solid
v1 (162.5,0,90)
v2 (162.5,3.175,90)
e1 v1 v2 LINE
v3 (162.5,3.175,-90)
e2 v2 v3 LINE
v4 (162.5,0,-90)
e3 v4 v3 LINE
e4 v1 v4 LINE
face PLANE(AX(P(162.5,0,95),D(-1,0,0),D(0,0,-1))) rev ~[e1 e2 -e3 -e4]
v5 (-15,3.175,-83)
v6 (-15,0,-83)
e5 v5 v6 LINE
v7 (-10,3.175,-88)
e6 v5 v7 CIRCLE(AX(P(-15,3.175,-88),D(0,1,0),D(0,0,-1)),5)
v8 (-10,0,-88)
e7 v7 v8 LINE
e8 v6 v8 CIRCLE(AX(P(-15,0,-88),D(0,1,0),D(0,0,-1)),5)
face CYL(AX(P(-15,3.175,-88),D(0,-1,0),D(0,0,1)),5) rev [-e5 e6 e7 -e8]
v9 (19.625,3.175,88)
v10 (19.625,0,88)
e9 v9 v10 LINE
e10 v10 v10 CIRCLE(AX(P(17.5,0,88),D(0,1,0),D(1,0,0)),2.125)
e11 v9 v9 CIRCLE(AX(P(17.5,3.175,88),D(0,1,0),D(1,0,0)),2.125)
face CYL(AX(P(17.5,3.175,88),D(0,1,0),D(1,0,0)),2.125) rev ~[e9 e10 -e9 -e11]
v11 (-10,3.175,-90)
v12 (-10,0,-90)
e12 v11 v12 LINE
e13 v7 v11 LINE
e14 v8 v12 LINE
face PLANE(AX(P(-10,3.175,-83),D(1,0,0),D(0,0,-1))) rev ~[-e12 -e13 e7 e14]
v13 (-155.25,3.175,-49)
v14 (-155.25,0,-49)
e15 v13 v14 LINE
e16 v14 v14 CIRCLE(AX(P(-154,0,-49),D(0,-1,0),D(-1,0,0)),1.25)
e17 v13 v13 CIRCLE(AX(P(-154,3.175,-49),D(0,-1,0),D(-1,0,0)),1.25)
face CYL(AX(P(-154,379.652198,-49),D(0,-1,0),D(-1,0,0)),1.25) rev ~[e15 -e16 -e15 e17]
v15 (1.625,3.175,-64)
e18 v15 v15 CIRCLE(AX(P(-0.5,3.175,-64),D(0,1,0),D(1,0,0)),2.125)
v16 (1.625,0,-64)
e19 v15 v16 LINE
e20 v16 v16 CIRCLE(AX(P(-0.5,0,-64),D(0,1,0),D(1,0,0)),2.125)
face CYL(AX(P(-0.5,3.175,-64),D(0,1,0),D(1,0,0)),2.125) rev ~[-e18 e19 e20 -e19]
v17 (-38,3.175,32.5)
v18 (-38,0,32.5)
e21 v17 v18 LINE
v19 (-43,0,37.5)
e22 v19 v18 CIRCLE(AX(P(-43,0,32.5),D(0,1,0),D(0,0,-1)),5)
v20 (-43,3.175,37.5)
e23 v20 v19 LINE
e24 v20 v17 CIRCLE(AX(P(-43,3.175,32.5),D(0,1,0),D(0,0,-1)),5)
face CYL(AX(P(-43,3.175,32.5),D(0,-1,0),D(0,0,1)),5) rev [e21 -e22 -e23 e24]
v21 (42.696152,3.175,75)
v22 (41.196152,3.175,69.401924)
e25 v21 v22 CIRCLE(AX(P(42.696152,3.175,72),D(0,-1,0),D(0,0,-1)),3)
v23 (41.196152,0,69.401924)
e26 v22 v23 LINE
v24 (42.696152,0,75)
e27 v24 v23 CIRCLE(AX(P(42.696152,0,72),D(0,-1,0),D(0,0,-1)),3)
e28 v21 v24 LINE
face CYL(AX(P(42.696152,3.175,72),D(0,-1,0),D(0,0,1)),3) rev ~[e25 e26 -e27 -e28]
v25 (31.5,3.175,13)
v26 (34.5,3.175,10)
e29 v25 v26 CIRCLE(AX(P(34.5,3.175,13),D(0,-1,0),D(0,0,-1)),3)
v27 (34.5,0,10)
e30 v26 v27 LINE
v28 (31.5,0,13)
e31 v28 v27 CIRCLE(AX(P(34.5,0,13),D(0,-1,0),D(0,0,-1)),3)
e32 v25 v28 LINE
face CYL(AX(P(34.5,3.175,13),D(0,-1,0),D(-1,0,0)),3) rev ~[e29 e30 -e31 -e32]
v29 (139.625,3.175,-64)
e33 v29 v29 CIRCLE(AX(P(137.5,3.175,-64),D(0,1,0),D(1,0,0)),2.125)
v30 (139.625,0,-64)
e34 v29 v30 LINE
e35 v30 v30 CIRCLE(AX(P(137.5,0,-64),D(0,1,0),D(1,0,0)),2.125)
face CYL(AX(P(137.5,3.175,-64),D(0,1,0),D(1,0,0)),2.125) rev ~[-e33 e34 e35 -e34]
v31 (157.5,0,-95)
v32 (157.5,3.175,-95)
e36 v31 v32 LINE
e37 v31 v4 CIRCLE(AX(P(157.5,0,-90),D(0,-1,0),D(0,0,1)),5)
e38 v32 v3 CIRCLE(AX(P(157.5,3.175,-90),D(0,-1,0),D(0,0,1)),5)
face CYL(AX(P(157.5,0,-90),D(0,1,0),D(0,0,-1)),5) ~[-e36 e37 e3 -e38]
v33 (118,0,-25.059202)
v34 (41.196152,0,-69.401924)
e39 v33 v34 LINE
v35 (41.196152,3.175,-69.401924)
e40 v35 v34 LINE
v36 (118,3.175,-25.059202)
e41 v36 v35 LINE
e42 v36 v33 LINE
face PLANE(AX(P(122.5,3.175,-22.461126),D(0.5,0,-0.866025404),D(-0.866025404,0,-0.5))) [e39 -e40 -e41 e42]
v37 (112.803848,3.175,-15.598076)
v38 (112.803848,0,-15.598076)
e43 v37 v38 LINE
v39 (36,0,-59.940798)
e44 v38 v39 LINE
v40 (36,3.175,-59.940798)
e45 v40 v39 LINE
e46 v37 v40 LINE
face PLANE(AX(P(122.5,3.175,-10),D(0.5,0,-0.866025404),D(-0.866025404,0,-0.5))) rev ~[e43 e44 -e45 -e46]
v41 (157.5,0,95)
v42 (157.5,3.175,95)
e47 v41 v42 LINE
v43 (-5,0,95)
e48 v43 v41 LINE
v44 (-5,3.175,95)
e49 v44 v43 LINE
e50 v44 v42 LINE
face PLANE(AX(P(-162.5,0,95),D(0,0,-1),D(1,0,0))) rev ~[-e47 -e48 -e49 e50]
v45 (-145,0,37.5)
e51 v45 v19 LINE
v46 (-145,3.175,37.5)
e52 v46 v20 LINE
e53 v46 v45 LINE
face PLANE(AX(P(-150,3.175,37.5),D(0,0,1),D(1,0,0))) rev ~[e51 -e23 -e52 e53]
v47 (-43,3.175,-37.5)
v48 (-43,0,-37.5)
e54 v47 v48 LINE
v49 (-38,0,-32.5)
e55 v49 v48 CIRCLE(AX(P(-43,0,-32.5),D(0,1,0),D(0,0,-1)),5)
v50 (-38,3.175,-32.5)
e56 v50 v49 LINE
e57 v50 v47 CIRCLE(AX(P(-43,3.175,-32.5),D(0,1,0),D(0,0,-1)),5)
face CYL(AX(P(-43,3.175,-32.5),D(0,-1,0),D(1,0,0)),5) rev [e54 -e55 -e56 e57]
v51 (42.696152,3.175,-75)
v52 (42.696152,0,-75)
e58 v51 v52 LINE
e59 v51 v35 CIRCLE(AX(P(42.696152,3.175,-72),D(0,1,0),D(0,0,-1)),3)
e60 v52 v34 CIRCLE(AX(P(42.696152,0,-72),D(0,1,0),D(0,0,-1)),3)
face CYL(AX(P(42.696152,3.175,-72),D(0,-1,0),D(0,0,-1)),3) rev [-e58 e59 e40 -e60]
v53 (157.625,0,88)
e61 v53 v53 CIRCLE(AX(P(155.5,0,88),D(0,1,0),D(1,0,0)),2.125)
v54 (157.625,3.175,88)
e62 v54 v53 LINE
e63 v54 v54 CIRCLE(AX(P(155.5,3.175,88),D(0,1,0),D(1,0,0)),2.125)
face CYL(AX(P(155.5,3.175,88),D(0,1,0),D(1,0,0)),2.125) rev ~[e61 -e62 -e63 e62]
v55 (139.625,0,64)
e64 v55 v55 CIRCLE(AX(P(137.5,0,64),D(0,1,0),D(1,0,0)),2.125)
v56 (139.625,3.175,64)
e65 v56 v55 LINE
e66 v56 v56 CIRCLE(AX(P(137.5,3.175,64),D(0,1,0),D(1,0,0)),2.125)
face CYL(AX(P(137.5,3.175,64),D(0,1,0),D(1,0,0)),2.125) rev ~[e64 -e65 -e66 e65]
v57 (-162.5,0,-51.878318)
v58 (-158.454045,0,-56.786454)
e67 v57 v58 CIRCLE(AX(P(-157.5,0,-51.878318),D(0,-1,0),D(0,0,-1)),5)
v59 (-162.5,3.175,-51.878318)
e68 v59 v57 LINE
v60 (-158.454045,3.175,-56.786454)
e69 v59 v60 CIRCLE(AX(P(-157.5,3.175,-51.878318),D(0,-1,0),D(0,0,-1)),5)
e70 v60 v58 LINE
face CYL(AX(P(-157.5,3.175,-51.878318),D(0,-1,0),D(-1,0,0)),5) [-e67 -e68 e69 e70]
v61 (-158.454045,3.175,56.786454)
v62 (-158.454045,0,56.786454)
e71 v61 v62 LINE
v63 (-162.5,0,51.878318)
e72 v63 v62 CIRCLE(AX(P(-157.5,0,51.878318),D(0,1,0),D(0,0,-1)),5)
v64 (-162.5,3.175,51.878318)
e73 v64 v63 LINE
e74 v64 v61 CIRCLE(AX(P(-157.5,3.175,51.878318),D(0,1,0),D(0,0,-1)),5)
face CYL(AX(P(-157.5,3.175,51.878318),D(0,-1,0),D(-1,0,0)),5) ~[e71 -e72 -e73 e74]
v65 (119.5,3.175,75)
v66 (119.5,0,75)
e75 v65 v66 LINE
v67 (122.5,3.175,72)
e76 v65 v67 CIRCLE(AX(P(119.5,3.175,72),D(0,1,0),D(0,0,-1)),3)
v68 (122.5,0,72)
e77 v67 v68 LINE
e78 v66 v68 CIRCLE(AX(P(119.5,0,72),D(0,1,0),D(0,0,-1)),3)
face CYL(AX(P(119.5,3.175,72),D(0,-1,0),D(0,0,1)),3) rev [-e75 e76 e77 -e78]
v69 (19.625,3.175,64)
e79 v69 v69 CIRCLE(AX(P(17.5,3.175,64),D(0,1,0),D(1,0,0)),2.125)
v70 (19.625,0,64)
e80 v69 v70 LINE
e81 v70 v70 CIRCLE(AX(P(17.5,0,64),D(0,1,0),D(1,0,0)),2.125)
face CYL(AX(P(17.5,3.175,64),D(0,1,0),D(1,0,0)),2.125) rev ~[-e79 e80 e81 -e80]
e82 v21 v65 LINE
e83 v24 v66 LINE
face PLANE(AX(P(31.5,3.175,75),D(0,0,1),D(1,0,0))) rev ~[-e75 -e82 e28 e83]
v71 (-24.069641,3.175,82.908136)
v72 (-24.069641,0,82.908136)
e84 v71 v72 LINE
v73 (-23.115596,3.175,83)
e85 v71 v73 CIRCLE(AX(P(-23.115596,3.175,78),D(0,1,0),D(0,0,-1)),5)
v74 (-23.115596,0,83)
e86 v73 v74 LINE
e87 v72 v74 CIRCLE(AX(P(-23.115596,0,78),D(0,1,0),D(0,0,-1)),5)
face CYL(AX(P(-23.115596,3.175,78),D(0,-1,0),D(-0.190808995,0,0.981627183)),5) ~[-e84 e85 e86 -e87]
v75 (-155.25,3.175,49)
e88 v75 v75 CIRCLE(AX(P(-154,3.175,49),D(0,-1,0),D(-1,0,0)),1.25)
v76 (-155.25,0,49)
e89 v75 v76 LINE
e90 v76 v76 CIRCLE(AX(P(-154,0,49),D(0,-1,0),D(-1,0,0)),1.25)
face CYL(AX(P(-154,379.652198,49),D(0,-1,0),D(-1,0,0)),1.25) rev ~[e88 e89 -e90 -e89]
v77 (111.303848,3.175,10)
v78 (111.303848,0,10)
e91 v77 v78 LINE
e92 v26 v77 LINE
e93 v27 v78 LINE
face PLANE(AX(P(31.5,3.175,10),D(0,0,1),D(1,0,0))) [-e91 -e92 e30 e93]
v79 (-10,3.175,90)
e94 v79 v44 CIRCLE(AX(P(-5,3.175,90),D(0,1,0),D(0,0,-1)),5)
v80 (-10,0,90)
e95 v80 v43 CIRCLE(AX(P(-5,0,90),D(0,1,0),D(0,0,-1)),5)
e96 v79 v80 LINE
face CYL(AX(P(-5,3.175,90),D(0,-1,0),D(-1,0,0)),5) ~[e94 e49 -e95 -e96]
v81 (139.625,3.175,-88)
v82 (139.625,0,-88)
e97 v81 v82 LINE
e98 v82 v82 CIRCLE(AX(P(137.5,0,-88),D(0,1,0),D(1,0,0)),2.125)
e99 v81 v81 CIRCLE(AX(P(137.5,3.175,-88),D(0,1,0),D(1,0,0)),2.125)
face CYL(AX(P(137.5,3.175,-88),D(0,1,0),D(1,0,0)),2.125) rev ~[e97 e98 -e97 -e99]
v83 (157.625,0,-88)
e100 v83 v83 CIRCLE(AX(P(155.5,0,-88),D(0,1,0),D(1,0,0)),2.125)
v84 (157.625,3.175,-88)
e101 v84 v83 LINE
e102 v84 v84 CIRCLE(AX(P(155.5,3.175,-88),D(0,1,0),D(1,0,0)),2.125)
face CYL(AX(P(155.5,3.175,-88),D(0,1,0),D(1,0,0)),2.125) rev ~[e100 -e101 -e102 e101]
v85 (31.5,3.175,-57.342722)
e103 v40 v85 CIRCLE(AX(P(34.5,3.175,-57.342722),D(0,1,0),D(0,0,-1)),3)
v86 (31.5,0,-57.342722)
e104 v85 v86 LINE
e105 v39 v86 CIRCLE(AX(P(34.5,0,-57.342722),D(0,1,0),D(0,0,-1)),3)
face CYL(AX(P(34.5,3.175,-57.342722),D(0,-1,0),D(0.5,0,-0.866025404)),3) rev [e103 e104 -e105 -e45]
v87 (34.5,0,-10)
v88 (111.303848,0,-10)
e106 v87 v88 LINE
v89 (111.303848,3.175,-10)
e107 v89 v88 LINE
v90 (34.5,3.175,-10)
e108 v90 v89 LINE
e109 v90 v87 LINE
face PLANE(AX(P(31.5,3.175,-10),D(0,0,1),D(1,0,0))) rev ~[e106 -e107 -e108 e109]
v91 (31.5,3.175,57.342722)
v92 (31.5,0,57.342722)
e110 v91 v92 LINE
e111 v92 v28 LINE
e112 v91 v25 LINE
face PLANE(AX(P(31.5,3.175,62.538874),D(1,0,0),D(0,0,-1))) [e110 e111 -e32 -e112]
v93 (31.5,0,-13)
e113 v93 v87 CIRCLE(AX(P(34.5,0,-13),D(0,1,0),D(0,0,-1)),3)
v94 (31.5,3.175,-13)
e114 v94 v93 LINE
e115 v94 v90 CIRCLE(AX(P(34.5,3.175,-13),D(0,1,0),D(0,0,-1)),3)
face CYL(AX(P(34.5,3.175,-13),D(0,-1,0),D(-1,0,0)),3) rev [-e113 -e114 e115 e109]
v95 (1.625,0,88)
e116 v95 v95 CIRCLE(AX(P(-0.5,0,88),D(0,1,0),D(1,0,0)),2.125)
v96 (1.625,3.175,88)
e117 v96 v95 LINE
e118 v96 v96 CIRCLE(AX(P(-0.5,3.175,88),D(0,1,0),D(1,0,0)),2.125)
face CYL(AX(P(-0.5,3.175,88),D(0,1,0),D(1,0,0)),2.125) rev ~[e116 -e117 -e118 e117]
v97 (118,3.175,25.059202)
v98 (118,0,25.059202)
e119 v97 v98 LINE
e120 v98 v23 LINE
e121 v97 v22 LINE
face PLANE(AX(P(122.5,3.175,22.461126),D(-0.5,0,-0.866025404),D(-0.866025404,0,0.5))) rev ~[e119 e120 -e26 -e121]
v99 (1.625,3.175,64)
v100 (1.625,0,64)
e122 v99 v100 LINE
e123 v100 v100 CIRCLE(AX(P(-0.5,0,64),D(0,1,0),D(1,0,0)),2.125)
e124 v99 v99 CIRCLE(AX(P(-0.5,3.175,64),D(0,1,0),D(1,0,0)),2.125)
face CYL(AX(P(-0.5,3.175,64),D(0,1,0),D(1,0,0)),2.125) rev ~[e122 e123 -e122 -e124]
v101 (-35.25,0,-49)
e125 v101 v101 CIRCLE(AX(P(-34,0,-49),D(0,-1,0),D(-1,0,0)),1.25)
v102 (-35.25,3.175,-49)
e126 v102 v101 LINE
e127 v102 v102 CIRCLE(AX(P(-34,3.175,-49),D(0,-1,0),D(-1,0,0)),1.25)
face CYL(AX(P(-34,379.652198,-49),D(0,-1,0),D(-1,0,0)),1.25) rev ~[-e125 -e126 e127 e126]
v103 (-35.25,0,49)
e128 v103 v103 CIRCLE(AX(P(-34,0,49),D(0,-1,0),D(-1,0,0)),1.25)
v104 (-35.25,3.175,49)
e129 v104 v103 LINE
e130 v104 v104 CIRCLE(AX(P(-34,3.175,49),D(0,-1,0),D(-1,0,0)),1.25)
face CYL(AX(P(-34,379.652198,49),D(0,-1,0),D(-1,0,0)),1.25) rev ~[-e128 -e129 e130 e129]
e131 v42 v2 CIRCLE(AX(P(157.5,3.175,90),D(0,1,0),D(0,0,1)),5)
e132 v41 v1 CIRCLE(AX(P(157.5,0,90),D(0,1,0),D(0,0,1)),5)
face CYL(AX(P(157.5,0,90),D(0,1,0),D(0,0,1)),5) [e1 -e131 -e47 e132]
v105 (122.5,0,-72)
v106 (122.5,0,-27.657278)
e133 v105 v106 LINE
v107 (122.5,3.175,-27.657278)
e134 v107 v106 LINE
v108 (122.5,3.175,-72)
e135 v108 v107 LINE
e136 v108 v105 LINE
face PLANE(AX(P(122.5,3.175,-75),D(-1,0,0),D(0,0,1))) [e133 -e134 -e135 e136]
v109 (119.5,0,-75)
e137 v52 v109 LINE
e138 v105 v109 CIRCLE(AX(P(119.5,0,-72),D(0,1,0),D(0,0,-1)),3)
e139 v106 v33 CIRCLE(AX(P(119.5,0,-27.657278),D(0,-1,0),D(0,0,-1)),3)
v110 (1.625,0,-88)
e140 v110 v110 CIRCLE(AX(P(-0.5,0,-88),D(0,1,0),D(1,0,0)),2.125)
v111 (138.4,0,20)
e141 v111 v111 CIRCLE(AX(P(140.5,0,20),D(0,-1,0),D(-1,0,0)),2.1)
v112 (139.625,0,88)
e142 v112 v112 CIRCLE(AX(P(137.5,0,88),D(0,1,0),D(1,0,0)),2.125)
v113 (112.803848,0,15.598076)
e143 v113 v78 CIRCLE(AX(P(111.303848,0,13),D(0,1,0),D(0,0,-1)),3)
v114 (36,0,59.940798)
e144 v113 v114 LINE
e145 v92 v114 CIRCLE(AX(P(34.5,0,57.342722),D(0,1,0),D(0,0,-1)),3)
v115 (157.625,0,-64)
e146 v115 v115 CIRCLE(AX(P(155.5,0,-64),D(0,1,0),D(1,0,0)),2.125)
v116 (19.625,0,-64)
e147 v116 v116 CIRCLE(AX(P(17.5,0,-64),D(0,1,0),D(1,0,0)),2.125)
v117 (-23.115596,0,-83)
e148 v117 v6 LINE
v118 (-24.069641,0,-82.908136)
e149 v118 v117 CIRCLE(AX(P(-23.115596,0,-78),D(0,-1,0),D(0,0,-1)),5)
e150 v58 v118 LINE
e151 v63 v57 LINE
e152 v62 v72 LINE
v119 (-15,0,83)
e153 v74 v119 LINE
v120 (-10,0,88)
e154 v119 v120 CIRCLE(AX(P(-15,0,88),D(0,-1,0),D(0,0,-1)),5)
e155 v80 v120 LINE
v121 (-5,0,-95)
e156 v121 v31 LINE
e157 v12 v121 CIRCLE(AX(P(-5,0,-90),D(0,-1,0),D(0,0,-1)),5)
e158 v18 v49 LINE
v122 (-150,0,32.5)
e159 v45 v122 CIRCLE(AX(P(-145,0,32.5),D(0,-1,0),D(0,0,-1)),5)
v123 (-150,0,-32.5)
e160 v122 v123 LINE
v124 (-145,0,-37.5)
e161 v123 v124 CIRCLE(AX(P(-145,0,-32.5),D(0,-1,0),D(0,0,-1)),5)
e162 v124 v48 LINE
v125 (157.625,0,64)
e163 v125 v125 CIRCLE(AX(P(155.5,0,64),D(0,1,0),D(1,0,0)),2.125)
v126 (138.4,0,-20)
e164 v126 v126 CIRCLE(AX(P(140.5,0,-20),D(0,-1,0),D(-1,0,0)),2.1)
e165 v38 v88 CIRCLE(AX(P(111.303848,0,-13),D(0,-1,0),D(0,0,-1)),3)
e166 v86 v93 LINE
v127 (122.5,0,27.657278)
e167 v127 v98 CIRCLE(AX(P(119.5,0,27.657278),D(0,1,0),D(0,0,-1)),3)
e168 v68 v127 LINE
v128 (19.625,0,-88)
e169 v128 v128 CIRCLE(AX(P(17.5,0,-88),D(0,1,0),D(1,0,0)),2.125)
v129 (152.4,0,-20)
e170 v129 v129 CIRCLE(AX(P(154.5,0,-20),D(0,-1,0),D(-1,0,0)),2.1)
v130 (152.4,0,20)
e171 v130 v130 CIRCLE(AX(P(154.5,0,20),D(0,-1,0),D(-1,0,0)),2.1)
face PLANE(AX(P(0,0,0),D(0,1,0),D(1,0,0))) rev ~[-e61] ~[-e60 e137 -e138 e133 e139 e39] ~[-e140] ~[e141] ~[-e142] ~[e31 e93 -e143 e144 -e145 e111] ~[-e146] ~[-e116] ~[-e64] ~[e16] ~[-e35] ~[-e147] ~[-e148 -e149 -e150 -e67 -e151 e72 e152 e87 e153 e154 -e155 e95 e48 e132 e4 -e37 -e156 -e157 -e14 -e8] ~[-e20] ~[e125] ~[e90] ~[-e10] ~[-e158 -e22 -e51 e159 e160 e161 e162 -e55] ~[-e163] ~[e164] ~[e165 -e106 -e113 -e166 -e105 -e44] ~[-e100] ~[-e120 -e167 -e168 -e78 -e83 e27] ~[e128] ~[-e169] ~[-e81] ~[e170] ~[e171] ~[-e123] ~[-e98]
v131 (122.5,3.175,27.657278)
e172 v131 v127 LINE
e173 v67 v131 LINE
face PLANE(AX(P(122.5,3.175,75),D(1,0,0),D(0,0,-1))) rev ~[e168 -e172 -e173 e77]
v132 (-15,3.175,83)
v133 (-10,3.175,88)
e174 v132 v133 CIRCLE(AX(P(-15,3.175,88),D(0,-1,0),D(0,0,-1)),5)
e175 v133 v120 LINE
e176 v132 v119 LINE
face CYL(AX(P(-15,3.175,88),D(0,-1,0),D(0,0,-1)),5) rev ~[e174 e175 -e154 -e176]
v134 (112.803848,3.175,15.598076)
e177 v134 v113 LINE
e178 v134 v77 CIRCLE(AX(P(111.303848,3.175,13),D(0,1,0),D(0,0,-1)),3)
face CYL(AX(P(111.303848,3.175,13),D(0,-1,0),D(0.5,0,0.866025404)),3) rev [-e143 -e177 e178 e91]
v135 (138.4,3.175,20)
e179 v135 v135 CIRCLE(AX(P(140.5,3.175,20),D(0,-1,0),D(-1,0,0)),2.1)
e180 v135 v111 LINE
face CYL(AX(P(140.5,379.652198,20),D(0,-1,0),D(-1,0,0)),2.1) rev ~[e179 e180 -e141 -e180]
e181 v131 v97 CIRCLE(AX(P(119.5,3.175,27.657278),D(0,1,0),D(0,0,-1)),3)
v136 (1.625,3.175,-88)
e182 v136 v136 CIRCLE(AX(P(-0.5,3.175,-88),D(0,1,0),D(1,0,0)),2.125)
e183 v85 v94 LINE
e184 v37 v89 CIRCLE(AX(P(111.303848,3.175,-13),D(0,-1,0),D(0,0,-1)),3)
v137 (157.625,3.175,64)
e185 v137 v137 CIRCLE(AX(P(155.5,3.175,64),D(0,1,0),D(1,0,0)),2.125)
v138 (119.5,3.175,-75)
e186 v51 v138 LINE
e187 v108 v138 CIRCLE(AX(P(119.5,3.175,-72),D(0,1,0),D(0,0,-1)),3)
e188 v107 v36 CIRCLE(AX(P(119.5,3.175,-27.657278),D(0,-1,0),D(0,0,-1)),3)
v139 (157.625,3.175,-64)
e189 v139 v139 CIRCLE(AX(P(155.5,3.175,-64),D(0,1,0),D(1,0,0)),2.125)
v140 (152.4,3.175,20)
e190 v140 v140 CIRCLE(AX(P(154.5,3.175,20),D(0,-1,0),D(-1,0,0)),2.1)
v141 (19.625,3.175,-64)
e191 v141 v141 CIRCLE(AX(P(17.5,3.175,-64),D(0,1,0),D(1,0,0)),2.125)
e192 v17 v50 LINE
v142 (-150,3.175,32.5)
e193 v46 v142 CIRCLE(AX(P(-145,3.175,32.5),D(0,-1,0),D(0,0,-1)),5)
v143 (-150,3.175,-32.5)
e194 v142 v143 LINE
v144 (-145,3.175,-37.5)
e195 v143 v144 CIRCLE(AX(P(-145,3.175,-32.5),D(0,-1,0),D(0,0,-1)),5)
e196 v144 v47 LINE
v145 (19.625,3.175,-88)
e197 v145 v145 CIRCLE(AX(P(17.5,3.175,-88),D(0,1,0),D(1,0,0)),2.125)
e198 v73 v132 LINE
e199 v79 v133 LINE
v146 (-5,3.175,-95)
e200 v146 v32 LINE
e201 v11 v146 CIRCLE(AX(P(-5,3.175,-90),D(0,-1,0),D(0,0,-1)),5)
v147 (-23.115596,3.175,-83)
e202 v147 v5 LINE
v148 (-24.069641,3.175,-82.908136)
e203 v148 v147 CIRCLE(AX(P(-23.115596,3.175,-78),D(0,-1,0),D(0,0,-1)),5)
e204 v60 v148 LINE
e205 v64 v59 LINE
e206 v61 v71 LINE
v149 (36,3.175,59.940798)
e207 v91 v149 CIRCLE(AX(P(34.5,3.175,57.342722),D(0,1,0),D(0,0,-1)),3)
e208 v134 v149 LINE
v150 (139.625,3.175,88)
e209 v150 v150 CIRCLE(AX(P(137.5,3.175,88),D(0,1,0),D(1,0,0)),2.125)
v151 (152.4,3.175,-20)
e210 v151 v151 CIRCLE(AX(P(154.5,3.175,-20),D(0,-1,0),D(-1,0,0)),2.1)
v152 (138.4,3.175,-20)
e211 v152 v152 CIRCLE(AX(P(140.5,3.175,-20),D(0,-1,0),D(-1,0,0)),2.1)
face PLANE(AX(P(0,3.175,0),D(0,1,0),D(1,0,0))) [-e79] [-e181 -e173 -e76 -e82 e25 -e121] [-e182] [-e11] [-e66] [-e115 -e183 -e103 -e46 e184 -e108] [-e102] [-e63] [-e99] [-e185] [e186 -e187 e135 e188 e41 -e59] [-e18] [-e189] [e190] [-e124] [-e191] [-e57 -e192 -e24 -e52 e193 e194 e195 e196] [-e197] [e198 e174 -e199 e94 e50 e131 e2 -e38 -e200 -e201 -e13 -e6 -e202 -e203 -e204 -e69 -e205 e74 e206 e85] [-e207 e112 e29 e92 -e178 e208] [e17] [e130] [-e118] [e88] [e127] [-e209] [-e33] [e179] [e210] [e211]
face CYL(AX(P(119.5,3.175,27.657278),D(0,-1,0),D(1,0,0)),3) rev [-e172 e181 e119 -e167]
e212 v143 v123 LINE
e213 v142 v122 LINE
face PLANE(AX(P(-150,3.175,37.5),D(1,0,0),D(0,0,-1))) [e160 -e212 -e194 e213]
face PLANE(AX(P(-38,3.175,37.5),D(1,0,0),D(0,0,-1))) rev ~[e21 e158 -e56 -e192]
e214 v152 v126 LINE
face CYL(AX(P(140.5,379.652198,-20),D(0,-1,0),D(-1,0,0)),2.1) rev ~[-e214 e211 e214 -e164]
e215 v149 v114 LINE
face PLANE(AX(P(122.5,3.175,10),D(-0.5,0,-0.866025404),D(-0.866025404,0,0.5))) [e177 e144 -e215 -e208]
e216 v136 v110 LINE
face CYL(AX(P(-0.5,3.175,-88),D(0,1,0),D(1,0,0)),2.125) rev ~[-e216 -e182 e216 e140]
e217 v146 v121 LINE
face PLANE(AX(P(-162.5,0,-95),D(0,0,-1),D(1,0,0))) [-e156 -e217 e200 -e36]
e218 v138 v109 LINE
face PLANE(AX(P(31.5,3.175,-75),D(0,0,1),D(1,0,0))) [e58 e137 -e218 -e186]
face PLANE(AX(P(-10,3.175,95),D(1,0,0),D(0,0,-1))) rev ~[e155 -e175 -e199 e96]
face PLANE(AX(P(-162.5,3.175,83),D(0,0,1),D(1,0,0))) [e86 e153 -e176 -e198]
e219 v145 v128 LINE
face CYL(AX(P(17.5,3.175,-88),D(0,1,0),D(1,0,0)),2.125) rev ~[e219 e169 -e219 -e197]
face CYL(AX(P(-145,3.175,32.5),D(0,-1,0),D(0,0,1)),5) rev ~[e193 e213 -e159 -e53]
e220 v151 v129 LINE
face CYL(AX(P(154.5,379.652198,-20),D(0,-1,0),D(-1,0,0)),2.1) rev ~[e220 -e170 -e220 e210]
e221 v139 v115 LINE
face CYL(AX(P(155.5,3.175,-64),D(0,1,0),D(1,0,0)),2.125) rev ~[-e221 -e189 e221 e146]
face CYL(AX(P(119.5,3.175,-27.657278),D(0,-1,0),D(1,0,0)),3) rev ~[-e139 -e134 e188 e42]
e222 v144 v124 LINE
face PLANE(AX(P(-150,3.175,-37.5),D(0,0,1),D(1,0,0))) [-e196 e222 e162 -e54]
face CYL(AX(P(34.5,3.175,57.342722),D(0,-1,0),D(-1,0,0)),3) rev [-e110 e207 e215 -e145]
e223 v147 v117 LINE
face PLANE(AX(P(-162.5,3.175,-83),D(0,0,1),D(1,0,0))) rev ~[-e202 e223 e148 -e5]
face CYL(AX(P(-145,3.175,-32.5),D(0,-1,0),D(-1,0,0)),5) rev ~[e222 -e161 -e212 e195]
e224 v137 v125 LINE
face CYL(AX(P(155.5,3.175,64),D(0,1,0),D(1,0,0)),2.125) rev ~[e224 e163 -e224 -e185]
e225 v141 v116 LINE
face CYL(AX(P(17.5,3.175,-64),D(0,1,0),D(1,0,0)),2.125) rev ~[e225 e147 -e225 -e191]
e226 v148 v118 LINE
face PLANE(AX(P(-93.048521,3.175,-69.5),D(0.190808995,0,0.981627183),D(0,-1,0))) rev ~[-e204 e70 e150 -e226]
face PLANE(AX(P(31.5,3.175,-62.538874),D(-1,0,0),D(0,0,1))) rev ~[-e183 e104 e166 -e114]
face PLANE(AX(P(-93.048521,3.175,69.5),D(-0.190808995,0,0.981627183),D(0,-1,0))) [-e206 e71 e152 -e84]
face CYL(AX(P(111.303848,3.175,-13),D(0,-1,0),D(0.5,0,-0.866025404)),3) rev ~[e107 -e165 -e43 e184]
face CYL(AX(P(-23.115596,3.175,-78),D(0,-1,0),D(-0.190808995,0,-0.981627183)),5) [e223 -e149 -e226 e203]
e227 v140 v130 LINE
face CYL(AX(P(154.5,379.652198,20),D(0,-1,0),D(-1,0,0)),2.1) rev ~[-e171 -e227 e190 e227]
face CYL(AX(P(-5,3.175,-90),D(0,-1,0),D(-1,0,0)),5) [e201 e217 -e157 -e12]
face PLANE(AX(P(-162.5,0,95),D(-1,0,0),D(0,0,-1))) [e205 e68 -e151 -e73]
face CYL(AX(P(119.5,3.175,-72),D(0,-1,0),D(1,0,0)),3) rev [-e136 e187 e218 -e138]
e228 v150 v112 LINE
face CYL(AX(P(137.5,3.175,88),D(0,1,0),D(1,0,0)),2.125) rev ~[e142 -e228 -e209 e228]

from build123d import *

# Parameters (mm, degrees)
SKETCH1_W                           = 325
SKETCH1_H                           = 190
PLATFORM_DEPTH                      = 3.175
SKETCH2_W                           = 112
SKETCH2_H                           = 75
MICROPLATE_CUTOUT_DEPTH             = 4.175
SKETCH3_R                           = 1
LEAD_NUT_HOLE_POSITIONS_DEPTH       = 4.175
SKETCH4_R                           = 2.125
LINEAR_BEARING_MOUNTING_HOLES_DEPTH = 4.175
LPATTERN1_COUNT                     = 2
LPATTERN1_PITCH                     = 138
SKETCH10_W                          = 152.5
SKETCH10_H                          = 12
CUT_EXTRUDE1_DEPTH                  = 4.175
CHAMFER1_SIZE                       = 27
CHAMFER1_SIZE2                      = 138.902958431
FILLET1_R                           = 5
M3X0_5_TAPPED_HOLE1_D               = 2.5
M5X0_8_TAPPED_HOLE1_D               = 4.2
CUT_EXTRUDE3_DEPTH                  = 4.175
FILLET3_R                           = 3


with BuildPart() as part:
    # Sketch1 → Platform (new body)
    with BuildSketch(Plane(origin=(0, 0, 0), x_dir=(1, 0, 0), z_dir=(0, 1, 0))):
        Rectangle(SKETCH1_W, SKETCH1_H)
    extrude(amount=PLATFORM_DEPTH)

    # Sketch2 → Microplate Cutout (cut, through all)
    with BuildSketch(Plane(origin=(0, 3.175, 0), x_dir=(1, 0, 0), z_dir=(0, 1, 0))):
        with Locations((-94, 0)):
            Rectangle(SKETCH2_W, SKETCH2_H)
    extrude(amount=-MICROPLATE_CUTOUT_DEPTH, mode=Mode.SUBTRACT)

    # Sketch3 → Lead Nut Hole Positions (cut, through all)
    with BuildSketch(Plane(origin=(0, 3.175, 0), x_dir=(1, 0, 0), z_dir=(0, 1, 0))):
        with Locations((140.5, 20)):
            Circle(SKETCH3_R)
        with Locations((154.5, 20)):
            Circle(SKETCH3_R)
        with Locations((154.5, -20)):
            Circle(SKETCH3_R)
        with Locations((140.5, -20)):
            Circle(SKETCH3_R)
    extrude(amount=-LEAD_NUT_HOLE_POSITIONS_DEPTH, mode=Mode.SUBTRACT)

    # Sketch4 → Linear Bearing Mounting Holes (cut, through all)
    with BuildSketch(Plane(origin=(0, 3.175, 0), x_dir=(1, 0, 0), z_dir=(0, 1, 0))):
        with Locations((17.5, 88)):
            Circle(SKETCH4_R)
        with Locations((17.5, 64)):
            Circle(SKETCH4_R)
        with Locations((-0.5, 88)):
            Circle(SKETCH4_R)
        with Locations((-0.5, 64)):
            Circle(SKETCH4_R)
        with Locations((-0.5, -64)):
            Circle(SKETCH4_R)
        with Locations((-0.5, -88)):
            Circle(SKETCH4_R)
        with Locations((17.5, -64)):
            Circle(SKETCH4_R)
        with Locations((17.5, -88)):
            Circle(SKETCH4_R)
    linear_bearing_mounting_holes = extrude(amount=-LINEAR_BEARING_MOUNTING_HOLES_DEPTH, mode=Mode.SUBTRACT)

    # LPattern1: Linear Bearing Mounting Holes ×2
    with Locations(*[(i * LPATTERN1_PITCH, 0, 0) for i in range(1, LPATTERN1_COUNT)]):
        add(linear_bearing_mounting_holes, mode=Mode.SUBTRACT)

    # Sketch10 → Cut-Extrude1 (cut, through all)
    with BuildSketch(Plane(origin=(0, 3.175, 0), x_dir=(1, 0, 0), z_dir=(0, 1, 0))):
        with Locations((-86.25, 89)):
            Rectangle(SKETCH10_W, SKETCH10_H)
        with Locations((-86.25, -89)):
            Rectangle(SKETCH10_W, SKETCH10_H)
    extrude(amount=-CUT_EXTRUDE1_DEPTH, mode=Mode.SUBTRACT)

    # Chamfer1
    chamfer1_edges = [part.edges().sort_by_distance(p)[0] for p in [
        (-162.5, 1.5875, -83),
        (-162.5, 1.5875, 83),
    ]]
    chamfer1_side = [part.faces().sort_by_distance(p)[0] for p in [
        (-162.5, 1.5875, 0),
    ]]
    chamfer(chamfer1_edges, length=CHAMFER1_SIZE, length2=CHAMFER1_SIZE2, reference=chamfer1_side[0])

    # Fillet1
    fillet1_edges = [part.edges().sort_by_distance(p)[0] for p in [
        (-10, 1.5875, -95),
        (-10, 1.5875, -83),
        (-10, 1.5875, 83),
        (-10, 1.5875, 95),
        (-23.597041569, 1.5875, -83),
        (-162.5, 1.5875, 56),
        (-162.5, 1.5875, -56),
        (-23.597041569, 1.5875, 83),
        (-38, 1.5875, -37.5),
        (-38, 1.5875, 37.5),
        (-150, 1.5875, 37.5),
        (-150, 1.5875, -37.5),
        (162.5, 1.5875, 95),
        (162.5, 1.5875, -95),
    ]]
    fillet(fillet1_edges, radius=FILLET1_R)

    # M3x0.5 Tapped Hole1 (through all)
    with Locations(Plane(origin=(0, 3.175, 0), x_dir=(1, 0, 0), z_dir=(0, 1, 0))):
        with Locations((-94, 0), (-34, 49), (-154, -49), (-154, 49), (-34, -49)):
            Hole(M3X0_5_TAPPED_HOLE1_D / 2)

    # M5x0.8 Tapped Hole1 (through all)
    with Locations(Plane(origin=(0, 3.175, 0), x_dir=(1, 0, 0), z_dir=(0, 1, 0))):
        with Locations((154.5, 20), (140.5, 20), (154.5, -20), (140.5, -20)):
            Hole(M5X0_8_TAPPED_HOLE1_D / 2)

    # Sketch12 → Cut-Extrude3 (cut, through all)
    with BuildSketch(Plane(origin=(0, 3.175, 0), x_dir=(1, 0, 0), z_dir=(0, 1, 0))):
        Polygon((122.5, 22.461125504), (31.5, 75), (122.5, 75), align=None)
        Polygon((122.5, 10), (31.5, 62.538874496), (31.5, 10), align=None)
        Polygon((31.5, -10), (122.5, -10), (31.5, -62.538874496), align=None)
        Polygon((31.5, -75), (122.5, -75), (122.5, -22.461125504), align=None)
    extrude(amount=-CUT_EXTRUDE3_DEPTH, mode=Mode.SUBTRACT)

    # Fillet3
    fillet3_edges = [part.edges().sort_by_distance(p)[0] for p in [
        (122.5, 1.5875, -10),
        (31.5, 1.5875, -10),
        (31.5, 1.5875, -62.538874496),
        (122.5, 1.5875, 22.461125504),
        (122.5, 1.5875, 75),
        (31.5, 1.5875, 75),
        (31.5, 1.5875, 62.538874496),
        (31.5, 1.5875, 10),
        (122.5, 1.5875, 10),
        (122.5, 1.5875, -75),
        (122.5, 1.5875, -22.461125504),
        (31.5, 1.5875, -75),
    ]]
    fillet(fillet3_edges, radius=FILLET3_R)


solid = part.part
